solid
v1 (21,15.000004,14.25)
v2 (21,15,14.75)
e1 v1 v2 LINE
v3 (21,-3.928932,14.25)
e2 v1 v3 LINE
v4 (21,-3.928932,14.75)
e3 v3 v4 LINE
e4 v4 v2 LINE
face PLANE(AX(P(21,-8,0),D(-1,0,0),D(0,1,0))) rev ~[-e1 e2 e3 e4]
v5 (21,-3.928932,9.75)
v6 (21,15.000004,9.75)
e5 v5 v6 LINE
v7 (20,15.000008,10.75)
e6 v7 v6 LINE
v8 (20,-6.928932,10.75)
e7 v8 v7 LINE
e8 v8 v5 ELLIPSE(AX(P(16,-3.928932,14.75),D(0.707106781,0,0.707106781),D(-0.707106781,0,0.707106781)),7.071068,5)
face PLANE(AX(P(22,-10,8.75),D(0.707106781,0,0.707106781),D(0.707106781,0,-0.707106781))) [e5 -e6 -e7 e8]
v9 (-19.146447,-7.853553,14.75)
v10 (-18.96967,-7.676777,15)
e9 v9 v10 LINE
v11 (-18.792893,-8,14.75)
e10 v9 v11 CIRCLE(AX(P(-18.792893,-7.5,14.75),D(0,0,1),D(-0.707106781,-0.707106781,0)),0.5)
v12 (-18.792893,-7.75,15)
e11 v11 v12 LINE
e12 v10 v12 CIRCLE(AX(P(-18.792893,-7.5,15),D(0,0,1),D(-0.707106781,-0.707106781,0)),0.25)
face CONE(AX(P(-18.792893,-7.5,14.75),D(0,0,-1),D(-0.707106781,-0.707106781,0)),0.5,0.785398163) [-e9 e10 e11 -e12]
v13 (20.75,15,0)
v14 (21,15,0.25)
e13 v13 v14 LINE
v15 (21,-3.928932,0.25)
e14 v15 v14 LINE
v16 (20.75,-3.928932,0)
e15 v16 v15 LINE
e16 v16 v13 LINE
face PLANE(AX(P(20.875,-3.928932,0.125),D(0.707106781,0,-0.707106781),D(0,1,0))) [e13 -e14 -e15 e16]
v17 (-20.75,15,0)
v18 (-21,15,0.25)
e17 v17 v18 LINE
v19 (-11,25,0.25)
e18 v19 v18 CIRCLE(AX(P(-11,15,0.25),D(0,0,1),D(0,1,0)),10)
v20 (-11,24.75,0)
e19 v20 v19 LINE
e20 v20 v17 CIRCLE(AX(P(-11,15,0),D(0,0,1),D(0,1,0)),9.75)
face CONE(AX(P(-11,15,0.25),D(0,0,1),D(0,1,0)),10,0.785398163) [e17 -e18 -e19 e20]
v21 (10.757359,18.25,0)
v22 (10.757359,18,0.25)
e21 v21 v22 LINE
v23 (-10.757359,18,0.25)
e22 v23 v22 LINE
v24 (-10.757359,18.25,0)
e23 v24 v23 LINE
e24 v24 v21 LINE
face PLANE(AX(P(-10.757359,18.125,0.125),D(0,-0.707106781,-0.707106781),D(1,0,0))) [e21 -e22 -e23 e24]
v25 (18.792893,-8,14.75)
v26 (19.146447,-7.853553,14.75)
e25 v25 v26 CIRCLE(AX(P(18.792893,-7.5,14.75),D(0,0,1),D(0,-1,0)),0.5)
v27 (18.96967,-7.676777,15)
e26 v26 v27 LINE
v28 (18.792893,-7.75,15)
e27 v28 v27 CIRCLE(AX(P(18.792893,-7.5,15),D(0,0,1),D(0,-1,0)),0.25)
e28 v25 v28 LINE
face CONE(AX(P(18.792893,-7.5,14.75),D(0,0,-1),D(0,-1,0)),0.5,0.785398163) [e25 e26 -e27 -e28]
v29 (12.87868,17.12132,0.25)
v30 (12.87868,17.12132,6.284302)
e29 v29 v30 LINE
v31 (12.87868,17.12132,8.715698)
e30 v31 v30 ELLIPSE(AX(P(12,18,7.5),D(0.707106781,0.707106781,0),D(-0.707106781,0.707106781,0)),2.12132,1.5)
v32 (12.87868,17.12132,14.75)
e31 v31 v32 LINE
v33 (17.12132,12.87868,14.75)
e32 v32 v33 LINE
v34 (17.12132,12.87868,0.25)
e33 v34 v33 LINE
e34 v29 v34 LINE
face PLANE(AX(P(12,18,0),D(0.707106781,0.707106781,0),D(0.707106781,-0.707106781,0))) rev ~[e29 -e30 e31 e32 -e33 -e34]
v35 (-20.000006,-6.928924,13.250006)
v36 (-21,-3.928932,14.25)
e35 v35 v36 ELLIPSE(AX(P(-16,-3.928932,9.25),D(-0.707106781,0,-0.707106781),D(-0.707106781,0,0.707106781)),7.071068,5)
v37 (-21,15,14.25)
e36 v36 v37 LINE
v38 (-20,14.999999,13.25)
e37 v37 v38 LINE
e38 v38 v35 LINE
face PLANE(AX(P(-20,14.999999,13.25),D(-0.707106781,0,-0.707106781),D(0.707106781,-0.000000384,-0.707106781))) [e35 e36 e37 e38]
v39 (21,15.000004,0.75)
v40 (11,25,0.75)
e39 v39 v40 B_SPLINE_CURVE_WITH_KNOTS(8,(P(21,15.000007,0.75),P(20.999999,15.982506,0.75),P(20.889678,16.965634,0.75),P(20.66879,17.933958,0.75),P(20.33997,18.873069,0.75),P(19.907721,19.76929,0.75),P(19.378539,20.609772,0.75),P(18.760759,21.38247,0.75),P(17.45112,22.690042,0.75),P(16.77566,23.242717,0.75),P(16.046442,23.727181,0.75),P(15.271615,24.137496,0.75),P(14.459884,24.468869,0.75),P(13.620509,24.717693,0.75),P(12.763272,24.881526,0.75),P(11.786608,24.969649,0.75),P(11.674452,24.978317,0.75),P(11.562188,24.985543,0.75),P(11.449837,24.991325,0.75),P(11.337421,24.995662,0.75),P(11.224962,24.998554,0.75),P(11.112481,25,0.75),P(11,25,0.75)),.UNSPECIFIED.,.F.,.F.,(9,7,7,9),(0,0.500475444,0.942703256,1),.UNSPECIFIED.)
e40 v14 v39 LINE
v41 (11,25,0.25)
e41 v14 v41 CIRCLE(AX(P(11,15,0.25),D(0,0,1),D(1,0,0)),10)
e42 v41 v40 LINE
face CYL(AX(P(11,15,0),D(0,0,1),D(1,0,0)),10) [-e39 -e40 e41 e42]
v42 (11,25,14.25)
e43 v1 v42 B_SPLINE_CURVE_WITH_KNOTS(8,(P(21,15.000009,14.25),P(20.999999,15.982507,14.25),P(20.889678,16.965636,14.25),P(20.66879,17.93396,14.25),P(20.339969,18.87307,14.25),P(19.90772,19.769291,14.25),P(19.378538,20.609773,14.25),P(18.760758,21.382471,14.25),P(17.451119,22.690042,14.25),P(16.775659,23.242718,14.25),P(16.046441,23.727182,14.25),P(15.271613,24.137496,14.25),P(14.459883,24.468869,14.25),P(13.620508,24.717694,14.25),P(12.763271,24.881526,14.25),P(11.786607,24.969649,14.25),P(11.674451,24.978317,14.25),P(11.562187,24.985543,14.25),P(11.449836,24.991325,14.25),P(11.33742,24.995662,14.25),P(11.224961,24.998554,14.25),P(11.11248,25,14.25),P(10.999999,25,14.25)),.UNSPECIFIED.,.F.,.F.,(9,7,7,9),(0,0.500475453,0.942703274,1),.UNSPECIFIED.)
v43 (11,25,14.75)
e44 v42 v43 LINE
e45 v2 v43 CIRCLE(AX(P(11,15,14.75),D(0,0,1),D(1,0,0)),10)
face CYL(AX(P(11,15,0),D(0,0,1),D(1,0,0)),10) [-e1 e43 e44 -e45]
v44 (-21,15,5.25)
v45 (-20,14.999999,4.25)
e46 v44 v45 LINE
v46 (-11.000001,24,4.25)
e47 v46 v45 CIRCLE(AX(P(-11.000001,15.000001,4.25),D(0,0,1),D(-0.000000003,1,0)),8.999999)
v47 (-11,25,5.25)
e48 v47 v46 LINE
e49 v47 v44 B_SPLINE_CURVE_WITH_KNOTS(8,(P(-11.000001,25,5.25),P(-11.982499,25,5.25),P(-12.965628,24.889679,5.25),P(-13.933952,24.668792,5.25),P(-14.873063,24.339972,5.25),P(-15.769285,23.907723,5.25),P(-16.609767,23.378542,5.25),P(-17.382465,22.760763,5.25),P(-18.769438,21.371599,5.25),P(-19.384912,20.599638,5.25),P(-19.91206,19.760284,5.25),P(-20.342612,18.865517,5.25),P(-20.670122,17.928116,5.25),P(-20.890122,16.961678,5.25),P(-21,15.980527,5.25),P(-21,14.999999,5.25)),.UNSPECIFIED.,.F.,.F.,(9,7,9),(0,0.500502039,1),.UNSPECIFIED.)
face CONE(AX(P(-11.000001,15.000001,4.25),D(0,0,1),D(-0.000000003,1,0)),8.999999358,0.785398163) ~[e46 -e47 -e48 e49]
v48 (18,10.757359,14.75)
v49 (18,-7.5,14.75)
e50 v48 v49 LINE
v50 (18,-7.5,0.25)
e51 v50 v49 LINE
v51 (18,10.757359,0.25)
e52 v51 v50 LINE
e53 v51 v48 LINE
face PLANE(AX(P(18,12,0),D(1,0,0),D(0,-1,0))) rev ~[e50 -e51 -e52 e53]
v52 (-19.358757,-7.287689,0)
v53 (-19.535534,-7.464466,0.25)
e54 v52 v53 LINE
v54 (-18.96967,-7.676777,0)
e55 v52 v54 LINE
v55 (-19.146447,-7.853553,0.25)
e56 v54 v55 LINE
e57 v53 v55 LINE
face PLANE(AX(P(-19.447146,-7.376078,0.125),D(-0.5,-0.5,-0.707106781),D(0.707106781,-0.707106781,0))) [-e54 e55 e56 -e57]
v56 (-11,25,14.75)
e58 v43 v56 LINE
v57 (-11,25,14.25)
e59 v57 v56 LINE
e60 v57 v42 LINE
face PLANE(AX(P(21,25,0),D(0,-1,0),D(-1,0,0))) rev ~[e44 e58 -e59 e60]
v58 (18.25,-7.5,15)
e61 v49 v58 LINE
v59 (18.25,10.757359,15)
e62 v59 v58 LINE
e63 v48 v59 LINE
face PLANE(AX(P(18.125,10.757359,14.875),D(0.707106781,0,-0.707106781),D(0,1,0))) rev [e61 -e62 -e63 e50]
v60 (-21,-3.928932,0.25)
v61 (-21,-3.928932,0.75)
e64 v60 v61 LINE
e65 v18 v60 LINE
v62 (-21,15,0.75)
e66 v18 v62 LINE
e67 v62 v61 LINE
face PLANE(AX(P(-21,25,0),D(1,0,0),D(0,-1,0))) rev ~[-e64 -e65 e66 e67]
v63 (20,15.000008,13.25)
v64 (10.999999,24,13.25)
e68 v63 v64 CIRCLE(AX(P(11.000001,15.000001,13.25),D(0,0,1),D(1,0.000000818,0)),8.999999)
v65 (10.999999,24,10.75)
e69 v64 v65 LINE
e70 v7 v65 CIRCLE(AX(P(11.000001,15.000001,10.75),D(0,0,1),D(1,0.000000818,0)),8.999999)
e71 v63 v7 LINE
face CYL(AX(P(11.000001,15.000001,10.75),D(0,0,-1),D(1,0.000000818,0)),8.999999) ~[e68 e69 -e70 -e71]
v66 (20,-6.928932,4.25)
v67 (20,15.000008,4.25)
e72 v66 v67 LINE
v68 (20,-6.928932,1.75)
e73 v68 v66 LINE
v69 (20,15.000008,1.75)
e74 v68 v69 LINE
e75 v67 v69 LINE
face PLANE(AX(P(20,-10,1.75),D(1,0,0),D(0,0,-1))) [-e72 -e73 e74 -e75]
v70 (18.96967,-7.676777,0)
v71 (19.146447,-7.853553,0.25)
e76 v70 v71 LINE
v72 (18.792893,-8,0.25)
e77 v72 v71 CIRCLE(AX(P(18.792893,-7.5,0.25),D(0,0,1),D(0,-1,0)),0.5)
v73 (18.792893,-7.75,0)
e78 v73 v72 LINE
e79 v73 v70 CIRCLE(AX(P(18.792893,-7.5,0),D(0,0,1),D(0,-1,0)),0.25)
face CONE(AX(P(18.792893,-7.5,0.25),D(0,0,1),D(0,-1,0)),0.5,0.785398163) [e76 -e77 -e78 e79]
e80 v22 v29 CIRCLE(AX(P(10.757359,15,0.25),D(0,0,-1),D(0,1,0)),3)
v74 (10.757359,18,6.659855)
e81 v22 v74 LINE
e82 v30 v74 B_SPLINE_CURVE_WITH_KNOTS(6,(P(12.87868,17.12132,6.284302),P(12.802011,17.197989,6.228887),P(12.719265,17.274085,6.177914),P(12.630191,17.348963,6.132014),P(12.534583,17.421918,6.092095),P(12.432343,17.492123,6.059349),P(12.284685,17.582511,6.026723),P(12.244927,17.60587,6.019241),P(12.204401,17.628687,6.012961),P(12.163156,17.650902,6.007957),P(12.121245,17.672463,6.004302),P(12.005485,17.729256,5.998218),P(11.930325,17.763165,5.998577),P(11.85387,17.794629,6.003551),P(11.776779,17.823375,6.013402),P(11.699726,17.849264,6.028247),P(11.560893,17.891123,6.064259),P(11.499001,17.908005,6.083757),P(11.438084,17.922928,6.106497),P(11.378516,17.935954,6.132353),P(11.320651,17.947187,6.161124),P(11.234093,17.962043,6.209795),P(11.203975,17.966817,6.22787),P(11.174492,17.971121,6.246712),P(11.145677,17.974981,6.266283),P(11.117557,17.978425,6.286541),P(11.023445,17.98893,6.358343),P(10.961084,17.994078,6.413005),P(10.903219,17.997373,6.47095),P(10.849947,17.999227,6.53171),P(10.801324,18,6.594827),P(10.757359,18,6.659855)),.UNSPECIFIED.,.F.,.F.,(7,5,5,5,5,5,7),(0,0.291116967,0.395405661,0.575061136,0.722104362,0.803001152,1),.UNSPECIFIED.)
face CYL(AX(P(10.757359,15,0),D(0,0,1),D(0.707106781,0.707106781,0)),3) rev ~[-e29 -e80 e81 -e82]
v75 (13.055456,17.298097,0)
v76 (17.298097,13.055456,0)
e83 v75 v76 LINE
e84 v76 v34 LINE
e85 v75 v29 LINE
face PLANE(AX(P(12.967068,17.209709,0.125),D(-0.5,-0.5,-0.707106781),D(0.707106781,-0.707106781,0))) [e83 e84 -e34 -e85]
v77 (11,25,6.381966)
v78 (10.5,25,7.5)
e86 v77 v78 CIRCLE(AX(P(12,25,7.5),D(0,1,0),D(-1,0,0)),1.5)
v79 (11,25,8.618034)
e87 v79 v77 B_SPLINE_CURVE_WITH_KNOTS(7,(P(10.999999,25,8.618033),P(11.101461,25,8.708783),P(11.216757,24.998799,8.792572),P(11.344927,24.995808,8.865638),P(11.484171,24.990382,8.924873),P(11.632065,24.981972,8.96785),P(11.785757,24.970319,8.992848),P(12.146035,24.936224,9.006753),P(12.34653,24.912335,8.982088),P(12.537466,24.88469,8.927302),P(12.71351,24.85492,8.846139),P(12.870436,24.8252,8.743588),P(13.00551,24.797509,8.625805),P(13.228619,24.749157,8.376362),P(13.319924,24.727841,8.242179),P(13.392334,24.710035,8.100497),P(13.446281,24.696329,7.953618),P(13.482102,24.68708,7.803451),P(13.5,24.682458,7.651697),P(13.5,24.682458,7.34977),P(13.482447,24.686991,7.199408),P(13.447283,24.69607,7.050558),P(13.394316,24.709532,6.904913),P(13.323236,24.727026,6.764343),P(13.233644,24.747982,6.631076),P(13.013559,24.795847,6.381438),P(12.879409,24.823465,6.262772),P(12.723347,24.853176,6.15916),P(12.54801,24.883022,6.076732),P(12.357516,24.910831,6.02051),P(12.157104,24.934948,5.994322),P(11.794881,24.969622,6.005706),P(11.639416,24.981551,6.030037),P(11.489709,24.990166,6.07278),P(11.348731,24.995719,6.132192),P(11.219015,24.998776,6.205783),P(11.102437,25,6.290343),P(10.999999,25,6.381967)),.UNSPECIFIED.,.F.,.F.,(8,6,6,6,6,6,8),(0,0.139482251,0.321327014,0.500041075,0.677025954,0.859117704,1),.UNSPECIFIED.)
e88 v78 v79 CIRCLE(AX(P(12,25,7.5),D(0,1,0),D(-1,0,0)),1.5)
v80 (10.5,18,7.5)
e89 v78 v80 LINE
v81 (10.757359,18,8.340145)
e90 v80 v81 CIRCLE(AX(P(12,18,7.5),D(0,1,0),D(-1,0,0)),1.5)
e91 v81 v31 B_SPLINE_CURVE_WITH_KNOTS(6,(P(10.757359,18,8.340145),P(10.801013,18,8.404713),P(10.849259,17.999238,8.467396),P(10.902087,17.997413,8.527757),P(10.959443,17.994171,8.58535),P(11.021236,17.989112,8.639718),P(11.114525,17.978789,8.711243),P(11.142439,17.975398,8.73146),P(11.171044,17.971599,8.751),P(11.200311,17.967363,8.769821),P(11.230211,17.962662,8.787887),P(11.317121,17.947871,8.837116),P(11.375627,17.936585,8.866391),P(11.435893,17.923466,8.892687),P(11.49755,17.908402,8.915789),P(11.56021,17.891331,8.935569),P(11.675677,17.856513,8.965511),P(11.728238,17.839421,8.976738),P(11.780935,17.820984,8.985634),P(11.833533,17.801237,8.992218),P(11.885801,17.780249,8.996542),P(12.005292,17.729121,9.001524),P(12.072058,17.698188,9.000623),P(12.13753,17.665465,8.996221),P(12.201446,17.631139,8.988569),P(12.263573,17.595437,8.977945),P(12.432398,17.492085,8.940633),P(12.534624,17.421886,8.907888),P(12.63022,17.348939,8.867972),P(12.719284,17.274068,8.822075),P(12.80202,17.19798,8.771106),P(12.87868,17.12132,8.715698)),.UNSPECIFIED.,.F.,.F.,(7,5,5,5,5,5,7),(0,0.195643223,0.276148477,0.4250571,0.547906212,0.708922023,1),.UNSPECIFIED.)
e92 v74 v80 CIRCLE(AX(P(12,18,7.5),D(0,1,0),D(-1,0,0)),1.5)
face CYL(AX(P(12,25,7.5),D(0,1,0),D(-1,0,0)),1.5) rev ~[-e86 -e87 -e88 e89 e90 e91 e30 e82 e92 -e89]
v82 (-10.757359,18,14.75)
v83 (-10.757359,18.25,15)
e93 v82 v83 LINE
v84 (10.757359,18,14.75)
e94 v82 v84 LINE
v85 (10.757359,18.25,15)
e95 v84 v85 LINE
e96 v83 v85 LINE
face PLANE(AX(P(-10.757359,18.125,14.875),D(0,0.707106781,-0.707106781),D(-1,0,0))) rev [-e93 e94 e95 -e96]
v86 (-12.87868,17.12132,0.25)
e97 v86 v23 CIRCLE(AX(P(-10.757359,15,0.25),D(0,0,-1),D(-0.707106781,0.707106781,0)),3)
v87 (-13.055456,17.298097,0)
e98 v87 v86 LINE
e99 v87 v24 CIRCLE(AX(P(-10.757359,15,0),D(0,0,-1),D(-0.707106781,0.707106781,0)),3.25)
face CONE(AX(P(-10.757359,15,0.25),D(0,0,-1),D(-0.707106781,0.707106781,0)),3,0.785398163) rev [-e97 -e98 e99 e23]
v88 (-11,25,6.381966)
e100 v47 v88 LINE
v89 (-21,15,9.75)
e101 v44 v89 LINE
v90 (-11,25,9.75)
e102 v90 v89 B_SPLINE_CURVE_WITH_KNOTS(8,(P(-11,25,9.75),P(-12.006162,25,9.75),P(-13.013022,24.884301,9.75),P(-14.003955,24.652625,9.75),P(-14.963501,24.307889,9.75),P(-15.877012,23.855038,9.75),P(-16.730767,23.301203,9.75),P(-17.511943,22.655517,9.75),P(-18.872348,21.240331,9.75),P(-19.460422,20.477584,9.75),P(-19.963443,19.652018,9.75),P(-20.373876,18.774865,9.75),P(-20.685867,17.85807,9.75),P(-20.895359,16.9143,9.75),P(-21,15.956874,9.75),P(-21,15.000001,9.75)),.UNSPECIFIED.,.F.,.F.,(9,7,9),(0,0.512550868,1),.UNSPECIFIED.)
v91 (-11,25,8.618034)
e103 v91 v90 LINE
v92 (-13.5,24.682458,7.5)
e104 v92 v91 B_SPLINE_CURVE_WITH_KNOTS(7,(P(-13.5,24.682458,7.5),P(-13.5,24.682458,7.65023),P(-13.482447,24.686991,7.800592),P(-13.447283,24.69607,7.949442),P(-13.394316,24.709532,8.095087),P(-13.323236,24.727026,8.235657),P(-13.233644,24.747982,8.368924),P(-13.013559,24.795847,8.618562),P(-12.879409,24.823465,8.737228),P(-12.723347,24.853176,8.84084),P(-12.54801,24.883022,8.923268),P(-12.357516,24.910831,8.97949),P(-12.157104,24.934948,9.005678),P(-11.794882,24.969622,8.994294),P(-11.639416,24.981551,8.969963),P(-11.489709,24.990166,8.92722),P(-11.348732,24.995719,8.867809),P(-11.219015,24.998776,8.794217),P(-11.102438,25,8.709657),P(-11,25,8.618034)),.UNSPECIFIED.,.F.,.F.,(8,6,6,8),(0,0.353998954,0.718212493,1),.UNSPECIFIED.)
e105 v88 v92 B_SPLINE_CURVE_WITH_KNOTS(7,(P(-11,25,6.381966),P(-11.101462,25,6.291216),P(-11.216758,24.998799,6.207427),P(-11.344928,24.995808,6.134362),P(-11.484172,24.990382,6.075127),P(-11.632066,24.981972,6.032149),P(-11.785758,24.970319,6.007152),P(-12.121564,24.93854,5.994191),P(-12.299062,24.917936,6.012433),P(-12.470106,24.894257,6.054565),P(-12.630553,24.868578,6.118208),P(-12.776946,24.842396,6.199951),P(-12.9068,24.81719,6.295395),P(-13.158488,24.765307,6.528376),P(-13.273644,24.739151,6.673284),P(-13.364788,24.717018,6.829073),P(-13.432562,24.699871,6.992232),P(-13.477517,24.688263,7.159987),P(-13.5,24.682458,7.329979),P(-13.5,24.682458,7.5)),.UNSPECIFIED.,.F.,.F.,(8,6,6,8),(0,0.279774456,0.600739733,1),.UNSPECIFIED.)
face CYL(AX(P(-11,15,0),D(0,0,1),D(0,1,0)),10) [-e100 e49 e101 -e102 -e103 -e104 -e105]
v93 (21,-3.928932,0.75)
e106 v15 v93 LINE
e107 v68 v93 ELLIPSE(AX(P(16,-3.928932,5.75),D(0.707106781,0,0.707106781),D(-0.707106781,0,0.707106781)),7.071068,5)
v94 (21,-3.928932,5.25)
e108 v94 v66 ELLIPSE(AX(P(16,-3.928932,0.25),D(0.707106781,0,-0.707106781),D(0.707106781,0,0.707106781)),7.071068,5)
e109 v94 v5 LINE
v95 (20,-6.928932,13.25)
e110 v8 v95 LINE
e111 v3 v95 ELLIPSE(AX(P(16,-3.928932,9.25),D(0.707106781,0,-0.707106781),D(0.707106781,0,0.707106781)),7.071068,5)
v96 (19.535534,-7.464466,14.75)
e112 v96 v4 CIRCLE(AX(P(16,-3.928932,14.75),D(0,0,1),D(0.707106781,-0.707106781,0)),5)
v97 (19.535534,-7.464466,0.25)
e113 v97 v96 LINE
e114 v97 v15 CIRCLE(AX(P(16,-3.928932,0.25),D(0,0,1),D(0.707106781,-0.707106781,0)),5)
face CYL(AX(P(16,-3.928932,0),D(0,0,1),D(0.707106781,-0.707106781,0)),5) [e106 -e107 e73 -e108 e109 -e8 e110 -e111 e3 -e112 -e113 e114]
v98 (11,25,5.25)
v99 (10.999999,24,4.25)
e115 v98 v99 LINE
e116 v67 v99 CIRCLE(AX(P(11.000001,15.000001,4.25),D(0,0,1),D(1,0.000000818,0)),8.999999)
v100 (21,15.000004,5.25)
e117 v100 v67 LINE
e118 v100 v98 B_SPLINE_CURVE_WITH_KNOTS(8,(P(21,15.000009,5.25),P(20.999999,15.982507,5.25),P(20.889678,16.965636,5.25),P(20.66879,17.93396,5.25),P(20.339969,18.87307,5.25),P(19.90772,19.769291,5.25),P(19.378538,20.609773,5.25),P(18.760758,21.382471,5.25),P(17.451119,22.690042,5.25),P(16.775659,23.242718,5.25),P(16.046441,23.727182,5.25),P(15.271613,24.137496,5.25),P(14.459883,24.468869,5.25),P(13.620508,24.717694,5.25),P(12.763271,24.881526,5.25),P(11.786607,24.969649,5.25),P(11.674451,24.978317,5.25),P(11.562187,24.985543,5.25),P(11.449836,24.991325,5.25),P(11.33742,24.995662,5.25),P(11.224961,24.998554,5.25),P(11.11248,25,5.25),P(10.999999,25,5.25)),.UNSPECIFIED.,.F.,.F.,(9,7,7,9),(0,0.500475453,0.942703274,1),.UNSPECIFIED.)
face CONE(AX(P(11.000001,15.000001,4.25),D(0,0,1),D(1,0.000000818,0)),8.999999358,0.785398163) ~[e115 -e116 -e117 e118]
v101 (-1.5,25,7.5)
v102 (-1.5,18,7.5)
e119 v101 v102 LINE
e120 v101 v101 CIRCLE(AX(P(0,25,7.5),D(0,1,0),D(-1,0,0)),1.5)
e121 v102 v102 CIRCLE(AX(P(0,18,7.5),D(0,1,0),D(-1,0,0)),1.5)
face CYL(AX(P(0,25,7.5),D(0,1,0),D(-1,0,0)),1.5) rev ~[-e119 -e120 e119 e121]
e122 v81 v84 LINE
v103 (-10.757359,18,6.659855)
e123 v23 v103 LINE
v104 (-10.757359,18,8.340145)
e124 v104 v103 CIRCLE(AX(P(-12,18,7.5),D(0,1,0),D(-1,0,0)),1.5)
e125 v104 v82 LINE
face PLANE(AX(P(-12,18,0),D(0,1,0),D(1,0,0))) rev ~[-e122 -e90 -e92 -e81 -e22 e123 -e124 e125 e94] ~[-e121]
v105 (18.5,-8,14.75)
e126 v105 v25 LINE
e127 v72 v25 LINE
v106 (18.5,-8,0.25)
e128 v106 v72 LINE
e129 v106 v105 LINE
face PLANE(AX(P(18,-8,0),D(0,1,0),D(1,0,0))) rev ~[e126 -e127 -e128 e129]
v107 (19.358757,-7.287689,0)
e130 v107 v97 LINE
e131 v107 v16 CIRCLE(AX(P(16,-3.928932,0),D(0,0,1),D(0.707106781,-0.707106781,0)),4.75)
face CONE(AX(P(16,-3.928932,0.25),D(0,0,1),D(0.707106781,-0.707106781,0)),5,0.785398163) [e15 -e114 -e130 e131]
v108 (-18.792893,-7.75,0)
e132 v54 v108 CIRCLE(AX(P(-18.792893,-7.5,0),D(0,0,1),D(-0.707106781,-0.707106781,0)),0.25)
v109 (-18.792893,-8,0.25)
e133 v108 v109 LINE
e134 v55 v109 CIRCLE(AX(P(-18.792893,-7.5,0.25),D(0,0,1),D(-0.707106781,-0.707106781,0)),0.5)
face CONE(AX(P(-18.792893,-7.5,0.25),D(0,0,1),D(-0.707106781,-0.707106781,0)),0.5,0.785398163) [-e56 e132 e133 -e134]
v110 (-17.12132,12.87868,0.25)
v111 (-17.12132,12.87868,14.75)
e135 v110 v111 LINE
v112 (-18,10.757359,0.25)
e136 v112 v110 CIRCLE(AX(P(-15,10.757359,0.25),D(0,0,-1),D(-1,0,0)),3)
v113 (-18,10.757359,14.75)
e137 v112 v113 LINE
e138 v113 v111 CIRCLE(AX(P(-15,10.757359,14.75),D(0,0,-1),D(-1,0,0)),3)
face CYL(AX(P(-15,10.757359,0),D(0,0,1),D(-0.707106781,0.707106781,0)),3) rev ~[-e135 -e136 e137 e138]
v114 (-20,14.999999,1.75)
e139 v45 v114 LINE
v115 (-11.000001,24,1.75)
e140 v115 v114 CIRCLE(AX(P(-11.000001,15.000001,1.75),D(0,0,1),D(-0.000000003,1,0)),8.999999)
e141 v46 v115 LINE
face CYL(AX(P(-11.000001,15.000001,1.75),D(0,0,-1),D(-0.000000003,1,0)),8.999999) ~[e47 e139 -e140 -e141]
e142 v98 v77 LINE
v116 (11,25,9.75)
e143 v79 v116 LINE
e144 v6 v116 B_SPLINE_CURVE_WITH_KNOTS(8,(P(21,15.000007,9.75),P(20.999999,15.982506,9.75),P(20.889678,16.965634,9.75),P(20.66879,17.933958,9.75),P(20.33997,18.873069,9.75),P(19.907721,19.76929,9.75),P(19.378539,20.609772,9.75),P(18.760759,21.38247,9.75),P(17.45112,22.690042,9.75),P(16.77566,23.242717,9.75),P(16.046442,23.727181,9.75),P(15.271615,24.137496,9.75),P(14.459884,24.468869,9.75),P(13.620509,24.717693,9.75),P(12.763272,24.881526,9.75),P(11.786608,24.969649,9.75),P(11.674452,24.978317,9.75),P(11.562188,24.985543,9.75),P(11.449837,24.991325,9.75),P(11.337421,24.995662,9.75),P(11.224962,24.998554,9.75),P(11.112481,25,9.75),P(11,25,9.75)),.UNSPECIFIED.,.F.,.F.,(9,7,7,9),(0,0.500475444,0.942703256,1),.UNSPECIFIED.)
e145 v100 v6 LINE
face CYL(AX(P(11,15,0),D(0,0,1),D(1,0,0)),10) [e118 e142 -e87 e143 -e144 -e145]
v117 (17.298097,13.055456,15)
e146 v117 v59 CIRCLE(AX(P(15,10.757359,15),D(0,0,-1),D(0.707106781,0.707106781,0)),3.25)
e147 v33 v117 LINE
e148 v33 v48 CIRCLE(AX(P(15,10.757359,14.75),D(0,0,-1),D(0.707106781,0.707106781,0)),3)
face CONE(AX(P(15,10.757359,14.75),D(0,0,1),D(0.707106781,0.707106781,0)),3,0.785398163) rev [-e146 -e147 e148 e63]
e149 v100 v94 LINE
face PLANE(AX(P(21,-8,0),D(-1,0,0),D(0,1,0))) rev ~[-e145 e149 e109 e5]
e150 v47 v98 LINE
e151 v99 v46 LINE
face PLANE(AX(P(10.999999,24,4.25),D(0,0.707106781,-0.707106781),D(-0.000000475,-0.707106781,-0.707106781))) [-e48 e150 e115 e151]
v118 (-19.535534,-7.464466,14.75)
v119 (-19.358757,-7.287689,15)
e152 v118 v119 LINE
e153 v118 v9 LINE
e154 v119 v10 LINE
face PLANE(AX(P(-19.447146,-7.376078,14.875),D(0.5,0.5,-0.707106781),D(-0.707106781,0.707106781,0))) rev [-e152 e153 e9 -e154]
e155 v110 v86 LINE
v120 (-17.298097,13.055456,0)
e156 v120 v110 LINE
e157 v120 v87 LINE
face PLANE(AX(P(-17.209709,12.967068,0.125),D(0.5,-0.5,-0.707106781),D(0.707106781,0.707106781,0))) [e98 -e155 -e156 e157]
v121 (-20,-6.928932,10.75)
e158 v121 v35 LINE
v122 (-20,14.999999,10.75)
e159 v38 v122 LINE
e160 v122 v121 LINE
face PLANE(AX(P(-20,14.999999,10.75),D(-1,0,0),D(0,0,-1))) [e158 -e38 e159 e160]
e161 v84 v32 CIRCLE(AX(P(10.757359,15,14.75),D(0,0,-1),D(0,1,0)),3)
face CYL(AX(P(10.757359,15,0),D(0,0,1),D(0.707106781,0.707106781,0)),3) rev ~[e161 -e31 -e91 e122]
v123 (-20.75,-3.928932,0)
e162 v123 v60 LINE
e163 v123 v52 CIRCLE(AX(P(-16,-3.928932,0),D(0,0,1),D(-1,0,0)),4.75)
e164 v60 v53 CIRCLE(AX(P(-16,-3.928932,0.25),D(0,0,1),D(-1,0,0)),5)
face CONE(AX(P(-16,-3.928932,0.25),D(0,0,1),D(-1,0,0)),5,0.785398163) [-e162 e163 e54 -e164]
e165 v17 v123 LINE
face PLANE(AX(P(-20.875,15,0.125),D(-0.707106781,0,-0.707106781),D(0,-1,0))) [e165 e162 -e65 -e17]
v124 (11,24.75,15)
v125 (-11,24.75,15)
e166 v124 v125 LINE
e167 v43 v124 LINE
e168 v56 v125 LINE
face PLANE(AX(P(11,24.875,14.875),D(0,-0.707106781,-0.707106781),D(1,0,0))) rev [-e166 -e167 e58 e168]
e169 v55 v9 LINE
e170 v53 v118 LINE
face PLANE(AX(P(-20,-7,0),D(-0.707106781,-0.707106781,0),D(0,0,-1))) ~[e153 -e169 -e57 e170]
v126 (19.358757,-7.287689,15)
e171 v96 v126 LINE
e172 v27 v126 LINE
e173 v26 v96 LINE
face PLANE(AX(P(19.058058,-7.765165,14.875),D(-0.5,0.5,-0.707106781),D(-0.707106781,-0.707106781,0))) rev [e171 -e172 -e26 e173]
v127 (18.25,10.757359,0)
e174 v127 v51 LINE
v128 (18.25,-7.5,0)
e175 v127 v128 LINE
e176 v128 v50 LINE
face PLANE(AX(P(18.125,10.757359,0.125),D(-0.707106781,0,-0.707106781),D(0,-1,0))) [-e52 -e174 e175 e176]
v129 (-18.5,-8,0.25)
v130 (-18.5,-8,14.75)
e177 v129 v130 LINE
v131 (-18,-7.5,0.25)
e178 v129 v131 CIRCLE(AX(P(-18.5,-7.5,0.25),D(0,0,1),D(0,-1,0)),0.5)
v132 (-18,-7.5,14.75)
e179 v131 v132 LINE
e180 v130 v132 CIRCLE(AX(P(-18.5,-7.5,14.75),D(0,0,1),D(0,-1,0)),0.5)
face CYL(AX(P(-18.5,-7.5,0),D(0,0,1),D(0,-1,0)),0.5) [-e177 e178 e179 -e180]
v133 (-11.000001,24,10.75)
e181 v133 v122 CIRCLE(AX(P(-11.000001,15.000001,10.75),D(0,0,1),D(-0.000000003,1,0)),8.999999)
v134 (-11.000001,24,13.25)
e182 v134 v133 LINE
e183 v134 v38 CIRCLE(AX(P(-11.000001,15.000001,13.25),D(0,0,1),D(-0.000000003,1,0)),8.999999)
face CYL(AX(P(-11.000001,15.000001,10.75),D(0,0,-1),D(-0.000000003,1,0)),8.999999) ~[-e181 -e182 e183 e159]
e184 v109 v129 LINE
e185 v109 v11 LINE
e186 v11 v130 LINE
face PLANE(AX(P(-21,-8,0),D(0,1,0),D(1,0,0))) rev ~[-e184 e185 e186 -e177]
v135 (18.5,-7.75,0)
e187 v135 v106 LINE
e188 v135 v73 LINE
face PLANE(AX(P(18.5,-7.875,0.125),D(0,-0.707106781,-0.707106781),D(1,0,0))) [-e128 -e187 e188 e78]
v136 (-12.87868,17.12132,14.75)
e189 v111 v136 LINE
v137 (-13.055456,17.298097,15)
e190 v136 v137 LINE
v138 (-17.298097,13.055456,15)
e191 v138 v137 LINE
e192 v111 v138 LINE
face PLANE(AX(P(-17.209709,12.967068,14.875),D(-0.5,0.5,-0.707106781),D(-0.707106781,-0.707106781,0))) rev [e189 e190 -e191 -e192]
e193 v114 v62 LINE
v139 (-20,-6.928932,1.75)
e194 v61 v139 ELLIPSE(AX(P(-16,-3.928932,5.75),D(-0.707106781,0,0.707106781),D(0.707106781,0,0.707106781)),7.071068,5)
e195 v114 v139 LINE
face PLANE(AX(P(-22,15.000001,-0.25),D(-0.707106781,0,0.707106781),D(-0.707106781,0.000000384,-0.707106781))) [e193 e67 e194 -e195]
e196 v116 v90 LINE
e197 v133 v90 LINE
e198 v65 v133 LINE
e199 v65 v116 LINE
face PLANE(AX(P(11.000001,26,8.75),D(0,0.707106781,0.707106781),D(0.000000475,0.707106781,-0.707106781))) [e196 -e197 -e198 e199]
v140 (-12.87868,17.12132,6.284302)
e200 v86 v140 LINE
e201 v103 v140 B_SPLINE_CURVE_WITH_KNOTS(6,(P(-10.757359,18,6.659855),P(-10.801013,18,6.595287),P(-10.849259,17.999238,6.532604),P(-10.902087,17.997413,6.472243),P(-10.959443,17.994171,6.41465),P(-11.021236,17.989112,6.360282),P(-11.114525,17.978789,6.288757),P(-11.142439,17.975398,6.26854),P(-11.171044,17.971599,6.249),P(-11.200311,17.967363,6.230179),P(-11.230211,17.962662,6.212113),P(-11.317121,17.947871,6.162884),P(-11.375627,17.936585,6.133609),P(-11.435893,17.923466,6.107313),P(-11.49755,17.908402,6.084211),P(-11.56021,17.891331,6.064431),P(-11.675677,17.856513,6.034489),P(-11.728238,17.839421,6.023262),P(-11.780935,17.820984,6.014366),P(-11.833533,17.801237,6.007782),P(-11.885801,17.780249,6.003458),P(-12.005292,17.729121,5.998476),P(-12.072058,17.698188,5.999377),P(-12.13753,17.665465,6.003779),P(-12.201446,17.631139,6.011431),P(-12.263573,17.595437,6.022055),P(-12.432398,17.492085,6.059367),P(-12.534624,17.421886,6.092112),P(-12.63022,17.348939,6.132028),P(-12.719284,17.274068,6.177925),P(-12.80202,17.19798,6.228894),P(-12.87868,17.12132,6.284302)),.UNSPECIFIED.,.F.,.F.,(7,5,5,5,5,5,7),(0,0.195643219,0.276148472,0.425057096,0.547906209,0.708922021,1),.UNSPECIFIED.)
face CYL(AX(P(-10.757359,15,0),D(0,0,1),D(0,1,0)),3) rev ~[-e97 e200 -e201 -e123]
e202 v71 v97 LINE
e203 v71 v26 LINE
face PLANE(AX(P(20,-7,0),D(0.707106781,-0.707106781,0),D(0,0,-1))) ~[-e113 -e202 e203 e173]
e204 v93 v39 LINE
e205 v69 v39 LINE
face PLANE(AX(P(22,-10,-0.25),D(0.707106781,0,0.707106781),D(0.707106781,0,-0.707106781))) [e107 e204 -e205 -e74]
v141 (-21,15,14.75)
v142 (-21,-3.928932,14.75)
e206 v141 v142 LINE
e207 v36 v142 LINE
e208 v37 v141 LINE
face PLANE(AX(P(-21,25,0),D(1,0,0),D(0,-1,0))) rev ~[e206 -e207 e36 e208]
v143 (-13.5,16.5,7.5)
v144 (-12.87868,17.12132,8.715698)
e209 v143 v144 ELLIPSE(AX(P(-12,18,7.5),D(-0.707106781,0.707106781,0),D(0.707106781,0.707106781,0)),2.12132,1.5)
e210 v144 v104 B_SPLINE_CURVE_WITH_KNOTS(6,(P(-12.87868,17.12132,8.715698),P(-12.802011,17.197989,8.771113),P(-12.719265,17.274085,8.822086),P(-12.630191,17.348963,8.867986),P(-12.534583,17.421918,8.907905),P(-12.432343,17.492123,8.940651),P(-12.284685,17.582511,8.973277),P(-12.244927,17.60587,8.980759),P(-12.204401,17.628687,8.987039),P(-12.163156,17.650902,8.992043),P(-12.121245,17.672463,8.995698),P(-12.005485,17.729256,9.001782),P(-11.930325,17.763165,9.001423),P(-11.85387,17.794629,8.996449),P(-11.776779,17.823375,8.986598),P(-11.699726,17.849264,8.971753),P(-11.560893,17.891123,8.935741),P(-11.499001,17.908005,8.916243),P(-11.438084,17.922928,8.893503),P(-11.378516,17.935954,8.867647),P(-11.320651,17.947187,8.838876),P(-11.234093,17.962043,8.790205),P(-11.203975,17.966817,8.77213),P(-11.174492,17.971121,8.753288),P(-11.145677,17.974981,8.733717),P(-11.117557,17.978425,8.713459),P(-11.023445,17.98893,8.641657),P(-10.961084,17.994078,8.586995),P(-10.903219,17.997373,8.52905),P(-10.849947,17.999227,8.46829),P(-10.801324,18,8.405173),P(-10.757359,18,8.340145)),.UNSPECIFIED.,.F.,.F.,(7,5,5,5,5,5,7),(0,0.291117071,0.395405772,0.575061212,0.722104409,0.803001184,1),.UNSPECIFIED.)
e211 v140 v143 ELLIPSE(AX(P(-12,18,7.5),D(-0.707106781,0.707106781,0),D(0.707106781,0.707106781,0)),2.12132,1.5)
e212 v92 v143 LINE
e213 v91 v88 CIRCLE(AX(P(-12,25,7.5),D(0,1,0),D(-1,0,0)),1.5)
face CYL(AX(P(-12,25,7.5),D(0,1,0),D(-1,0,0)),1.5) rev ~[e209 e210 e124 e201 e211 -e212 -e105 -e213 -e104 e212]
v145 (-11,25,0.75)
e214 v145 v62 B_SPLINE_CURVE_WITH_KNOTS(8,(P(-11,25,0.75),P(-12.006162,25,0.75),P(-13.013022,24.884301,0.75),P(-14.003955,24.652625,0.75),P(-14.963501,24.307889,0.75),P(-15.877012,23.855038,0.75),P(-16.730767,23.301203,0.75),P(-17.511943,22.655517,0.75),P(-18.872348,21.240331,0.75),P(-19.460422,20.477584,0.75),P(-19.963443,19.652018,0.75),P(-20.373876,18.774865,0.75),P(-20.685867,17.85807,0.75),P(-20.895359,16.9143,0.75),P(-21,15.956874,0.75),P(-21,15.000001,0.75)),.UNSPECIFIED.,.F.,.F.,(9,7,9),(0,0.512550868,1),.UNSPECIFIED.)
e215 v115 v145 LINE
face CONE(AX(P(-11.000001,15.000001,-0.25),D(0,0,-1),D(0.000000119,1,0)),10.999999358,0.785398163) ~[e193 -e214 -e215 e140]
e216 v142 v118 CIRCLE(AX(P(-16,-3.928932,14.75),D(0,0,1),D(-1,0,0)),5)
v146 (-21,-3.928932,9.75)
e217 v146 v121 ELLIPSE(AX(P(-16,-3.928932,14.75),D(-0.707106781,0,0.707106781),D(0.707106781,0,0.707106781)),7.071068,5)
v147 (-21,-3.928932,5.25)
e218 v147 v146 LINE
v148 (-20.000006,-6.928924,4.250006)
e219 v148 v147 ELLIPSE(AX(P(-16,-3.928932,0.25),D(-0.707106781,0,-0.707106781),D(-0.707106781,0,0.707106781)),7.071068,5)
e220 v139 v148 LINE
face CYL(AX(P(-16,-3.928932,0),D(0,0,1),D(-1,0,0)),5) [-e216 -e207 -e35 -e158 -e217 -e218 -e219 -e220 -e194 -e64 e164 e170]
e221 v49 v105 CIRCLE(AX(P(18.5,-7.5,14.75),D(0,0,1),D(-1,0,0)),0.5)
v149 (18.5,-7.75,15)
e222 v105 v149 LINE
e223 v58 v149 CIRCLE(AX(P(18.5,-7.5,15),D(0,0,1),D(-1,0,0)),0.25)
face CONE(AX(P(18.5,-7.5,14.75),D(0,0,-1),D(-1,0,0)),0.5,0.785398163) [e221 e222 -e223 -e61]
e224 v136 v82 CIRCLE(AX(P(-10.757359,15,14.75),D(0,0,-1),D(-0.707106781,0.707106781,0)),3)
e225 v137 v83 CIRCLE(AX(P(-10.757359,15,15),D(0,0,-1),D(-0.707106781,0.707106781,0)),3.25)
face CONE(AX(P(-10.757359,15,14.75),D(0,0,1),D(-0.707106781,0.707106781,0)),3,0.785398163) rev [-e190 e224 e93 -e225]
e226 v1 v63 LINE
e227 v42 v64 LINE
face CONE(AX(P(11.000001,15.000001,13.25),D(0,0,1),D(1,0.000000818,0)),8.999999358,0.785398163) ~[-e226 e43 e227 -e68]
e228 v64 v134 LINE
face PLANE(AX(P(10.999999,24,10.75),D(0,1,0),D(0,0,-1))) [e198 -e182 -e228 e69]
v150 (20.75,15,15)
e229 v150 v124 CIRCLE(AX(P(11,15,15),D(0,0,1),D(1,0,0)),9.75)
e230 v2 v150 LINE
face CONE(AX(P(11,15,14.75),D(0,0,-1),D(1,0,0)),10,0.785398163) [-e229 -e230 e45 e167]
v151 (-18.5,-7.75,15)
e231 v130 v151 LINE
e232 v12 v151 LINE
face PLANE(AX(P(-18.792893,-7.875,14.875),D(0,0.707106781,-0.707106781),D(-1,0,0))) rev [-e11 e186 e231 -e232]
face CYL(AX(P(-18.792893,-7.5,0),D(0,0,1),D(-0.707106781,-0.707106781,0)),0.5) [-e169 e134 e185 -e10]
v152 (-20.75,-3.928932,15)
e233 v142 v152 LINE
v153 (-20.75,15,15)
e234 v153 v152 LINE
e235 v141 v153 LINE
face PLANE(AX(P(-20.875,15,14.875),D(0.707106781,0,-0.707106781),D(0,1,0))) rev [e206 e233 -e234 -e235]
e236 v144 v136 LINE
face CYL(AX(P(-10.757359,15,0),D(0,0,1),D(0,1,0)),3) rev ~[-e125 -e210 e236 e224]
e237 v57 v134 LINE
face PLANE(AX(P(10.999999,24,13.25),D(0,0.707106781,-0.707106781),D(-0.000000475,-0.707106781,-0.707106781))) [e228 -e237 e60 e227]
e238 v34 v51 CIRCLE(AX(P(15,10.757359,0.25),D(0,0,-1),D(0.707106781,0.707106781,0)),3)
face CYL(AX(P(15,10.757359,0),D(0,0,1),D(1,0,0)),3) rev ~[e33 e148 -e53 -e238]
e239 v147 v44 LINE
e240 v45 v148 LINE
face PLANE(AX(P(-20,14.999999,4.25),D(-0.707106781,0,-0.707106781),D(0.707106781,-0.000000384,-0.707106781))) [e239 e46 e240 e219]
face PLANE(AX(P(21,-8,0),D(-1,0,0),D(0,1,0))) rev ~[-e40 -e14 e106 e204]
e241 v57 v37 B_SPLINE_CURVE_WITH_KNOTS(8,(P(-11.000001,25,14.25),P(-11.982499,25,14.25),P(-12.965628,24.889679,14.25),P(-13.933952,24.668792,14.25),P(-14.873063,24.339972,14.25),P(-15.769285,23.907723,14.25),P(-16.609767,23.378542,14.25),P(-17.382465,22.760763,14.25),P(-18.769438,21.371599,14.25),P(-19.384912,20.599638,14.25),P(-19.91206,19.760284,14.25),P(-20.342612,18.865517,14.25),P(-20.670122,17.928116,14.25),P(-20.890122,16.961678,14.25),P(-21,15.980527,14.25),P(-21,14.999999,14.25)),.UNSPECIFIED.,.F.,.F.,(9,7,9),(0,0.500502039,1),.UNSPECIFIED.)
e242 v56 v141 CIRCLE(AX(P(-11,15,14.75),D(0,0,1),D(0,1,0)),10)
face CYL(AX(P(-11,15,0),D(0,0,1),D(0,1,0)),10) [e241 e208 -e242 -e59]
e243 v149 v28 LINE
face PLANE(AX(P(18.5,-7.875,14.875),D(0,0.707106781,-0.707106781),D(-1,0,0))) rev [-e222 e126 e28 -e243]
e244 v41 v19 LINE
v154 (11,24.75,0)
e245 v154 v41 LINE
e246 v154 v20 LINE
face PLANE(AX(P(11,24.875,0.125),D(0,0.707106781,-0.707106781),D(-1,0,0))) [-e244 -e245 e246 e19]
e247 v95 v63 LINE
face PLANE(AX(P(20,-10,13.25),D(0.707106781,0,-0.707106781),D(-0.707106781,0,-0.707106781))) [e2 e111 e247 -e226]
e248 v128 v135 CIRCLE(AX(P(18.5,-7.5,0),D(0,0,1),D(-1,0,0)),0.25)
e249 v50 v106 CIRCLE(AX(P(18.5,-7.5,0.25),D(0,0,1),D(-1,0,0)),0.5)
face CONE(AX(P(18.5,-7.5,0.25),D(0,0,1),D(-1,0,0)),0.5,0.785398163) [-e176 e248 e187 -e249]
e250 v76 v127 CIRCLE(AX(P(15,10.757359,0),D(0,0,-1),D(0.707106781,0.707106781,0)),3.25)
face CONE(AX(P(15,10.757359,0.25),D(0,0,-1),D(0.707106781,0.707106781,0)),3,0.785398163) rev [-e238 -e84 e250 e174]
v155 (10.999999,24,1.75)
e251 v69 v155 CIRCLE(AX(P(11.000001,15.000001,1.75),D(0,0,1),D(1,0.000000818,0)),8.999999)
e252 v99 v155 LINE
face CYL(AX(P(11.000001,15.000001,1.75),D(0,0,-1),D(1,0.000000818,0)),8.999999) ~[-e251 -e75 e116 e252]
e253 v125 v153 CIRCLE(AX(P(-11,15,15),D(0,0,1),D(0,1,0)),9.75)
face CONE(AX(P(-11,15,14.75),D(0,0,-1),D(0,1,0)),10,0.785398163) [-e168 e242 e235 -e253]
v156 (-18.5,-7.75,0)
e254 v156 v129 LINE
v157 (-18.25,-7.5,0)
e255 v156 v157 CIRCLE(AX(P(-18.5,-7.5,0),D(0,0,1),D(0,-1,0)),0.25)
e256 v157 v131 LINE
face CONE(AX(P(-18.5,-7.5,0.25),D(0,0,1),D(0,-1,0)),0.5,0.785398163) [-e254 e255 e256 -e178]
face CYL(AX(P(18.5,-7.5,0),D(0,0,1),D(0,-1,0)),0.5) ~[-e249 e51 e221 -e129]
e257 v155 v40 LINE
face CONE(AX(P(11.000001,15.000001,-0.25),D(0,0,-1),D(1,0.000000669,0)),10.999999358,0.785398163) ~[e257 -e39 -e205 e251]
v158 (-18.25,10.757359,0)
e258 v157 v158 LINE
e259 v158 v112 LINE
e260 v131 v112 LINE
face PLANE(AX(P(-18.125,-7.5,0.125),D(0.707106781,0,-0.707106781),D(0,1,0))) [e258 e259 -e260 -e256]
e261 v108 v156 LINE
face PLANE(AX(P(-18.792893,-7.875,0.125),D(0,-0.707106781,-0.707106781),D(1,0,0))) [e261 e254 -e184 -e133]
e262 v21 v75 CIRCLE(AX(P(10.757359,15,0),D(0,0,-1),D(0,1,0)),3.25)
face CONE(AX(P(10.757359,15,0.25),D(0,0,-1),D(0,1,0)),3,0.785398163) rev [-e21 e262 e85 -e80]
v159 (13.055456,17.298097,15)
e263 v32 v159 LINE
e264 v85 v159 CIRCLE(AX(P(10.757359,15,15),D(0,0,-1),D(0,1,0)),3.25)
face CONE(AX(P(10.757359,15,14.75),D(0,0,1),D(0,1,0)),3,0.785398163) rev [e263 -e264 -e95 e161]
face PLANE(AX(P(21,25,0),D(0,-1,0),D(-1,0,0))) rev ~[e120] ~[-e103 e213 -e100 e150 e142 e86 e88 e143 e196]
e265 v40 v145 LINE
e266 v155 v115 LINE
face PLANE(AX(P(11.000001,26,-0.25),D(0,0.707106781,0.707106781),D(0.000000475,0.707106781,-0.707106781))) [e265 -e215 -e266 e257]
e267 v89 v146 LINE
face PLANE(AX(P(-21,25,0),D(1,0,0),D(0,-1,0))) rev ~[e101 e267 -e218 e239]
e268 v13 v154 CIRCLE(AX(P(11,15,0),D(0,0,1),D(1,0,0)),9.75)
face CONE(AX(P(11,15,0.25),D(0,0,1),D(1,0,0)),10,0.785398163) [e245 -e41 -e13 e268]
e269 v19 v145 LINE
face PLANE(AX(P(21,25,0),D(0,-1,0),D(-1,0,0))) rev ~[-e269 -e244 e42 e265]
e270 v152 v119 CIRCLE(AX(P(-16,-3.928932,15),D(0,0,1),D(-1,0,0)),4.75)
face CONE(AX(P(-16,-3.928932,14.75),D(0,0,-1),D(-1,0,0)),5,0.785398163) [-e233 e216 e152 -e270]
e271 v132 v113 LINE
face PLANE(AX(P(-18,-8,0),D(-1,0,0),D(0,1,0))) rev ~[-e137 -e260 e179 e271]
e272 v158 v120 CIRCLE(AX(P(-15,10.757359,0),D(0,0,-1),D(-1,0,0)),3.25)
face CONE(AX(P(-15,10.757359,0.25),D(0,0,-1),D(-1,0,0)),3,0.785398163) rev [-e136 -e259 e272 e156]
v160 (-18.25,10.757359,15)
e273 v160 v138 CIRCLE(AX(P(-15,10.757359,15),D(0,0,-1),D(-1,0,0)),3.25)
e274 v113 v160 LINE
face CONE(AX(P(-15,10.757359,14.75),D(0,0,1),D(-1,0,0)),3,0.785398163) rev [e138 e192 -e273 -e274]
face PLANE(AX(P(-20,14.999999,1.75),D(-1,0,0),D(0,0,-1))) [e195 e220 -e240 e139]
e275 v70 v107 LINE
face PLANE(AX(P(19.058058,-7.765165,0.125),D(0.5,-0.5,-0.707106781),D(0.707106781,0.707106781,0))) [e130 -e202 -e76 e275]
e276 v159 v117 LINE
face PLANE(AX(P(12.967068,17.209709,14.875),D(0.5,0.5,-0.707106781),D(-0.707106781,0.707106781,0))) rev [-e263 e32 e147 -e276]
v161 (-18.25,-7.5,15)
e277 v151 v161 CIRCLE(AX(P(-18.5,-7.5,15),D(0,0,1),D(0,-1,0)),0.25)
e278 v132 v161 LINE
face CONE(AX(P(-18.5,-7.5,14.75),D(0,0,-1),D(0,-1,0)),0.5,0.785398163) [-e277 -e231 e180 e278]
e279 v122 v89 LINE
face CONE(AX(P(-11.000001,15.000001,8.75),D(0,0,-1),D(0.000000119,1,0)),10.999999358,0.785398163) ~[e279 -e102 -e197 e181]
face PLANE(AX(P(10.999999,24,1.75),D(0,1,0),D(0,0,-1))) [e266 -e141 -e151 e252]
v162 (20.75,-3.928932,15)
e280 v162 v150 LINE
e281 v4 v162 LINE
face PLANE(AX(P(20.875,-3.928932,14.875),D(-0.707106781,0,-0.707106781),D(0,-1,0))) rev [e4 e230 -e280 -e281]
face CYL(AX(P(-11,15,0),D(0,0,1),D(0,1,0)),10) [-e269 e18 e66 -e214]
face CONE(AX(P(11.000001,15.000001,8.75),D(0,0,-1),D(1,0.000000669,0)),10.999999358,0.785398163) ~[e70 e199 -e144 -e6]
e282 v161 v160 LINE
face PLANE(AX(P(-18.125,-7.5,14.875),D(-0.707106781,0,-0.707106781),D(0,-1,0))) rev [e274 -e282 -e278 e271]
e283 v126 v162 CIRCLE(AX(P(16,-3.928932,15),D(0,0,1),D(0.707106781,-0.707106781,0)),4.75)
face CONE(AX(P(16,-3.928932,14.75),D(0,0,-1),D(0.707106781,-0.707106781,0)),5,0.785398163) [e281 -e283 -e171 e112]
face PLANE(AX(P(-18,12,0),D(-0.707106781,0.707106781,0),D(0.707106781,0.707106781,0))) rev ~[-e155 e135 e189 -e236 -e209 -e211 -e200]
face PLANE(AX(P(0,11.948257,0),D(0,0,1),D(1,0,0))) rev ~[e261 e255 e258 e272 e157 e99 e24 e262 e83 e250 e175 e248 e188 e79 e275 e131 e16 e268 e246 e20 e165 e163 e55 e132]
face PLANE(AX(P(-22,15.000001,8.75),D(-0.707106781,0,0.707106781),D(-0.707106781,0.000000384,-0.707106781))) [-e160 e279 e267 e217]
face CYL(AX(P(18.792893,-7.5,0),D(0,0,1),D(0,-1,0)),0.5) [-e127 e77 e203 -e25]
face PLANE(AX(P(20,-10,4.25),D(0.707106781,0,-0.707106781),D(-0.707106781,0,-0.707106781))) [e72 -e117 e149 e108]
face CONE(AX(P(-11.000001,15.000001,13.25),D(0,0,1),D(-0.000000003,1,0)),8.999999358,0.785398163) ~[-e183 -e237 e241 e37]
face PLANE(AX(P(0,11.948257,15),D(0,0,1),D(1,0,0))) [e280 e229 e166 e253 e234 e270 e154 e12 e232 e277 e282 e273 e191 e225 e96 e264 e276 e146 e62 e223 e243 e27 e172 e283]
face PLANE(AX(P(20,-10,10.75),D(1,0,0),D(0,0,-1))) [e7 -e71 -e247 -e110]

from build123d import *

# Parameters (mm, degrees)
PAD_DEPTH       = 15
FILLET_R        = 10
FILLET001_R     = 3
CHAMFER_SIZE    = 2
FILLET002_R     = 0.5
FILLET003_R     = 5
CHAMFER001_SIZE = 0.25
SKETCH003_R     = 1.5
POCKET_DEPTH    = 33.001


with BuildPart() as sweep_body:
    # Sweep: sweep along a path in Sketch001
    with BuildLine(Plane.XY) as sweep_path:
        Line((21, -10), (21, 15.000008))
        ThreePointArc((21, 15.000008), (18.071065, 22.071071), (11, 25))
        Line((11, 25), (-11, 25))
        ThreePointArc((-11, 25), (-18.071068, 22.071068), (-21, 15))
        Line((-21, 15), (-21, -10))
    # Sketch002 → Sweep (sweep)
    with BuildSketch(Plane.XZ.offset(10)):
        Polygon((22, 3.25), (22, -3.25), (20, -1.25), (20, 1.25), align=None)
    sweep(path=sweep_path.line)


with BuildPart() as sweep_body_1:
    # Sweep placement: moved
    add(sweep_body.part.moved(Location((0, 0, 3))))


with BuildPart() as fusion:
    # Clone base: copy of Sweep body
    add(sweep_body_1.part)


with BuildPart() as fusion_1:
    # Clone placement: moved
    add(fusion.part.moved(Location((0, 0, 9))))

    # Fusion: union Sweep body
    add(sweep_body_1.part)


with BuildPart() as pocket:
    # Sketch → Pad (new body)
    with BuildSketch(Plane.XY):
        Polygon((-18, -8), (-18, 12), (-12, 18), (12, 18), (18, 12), (18, -8), (21, -8), (21, 25), (-21, 25), (-21, -8), align=None)
    extrude(amount=PAD_DEPTH)

    # Fillet
    fillet_edges = [pocket.edges().sort_by_distance(p)[0] for p in [
        (-21, 25, 7.5),
        (21, 25, 7.5),
    ]]
    fillet(fillet_edges, radius=FILLET_R)

    # Fillet001
    fillet001_edges = [pocket.edges().sort_by_distance(p)[0] for p in [
        (-12, 18, 7.5),
        (-18, 12, 7.5),
        (12, 18, 7.5),
        (18, 12, 7.5),
    ]]
    fillet(fillet001_edges, radius=FILLET001_R)

    # Chamfer
    chamfer_edges = [pocket.edges().sort_by_distance(p)[0] for p in [
        (-21, -8, 7.5),
        (21, -8, 7.5),
    ]]
    chamfer(chamfer_edges, length=CHAMFER_SIZE)

    # Fillet002
    fillet002_edges = [pocket.edges().sort_by_distance(p)[0] for p in [
        (-19, -8, 7.5),
        (-18, -8, 7.5),
        (19, -8, 7.5),
        (18, -8, 7.5),
    ]]
    fillet(fillet002_edges, radius=FILLET002_R)

    # Fillet003
    fillet003_edges = [pocket.edges().sort_by_distance(p)[0] for p in [
        (-21, -6, 7.5),
        (21, -6, 7.5),
    ]]
    fillet(fillet003_edges, radius=FILLET003_R)

    # Chamfer001
    chamfer001_edges = [pocket.edges().sort_by_distance(p)[0] for p in [
        (19.34099, -7.65901, 15),
        (20.619398, -5.842349, 15),
        (18.984235, -7.96194, 15),
        (21, 5.535534, 15),
        (18.646447, -8, 15),
        (18.071068, 22.071068, 15),
        (18.146447, -7.853553, 15),
        (0, 25, 15),
        (18, 1.62868, 15),
        (-18.071068, 22.071068, 15),
        (17.771639, 11.90541, 15),
        (-21, 5.535534, 15),
        (15, 15, 15),
        (-20.619398, -5.842349, 15),
        (11.90541, 17.771639, 15),
        (-19.34099, -7.65901, 15),
        (0, 18, 15),
        (-18.984235, -7.96194, 15),
        (-11.90541, 17.771639, 15),
        (-18.646447, -8, 15),
        (-15, 15, 15),
        (-18.146447, -7.853553, 15),
        (-17.771639, 11.90541, 15),
        (-18, 1.62868, 15),
        (19.34099, -7.65901, 0),
        (20.619398, -5.842349, 0),
        (18.984235, -7.96194, 0),
        (21, 5.535534, 0),
        (18.646447, -8, 0),
        (18.071068, 22.071068, 0),
        (18.146447, -7.853553, 0),
        (0, 25, 0),
        (18, 1.62868, 0),
        (-18.071068, 22.071068, 0),
        (17.771639, 11.90541, 0),
        (-21, 5.535534, 0),
        (15, 15, 0),
        (-20.619398, -5.842349, 0),
        (11.90541, 17.771639, 0),
        (-19.34099, -7.65901, 0),
        (0, 18, 0),
        (-18.984235, -7.96194, 0),
        (-11.90541, 17.771639, 0),
        (-18.646447, -8, 0),
        (-15, 15, 0),
        (-18.146447, -7.853553, 0),
        (-17.771639, 11.90541, 0),
        (-18, 1.62868, 0),
    ]]
    chamfer(chamfer001_edges, length=CHAMFER001_SIZE)

    # Cut: cut Fusion
    add(fusion_1.part, mode=Mode.SUBTRACT)

    # Sketch003 → Pocket (cut, through all)
    with BuildSketch(Plane(origin=(0, 25, 0), x_dir=(-1, 0, 0), z_dir=(0, 1, 0))):
        with Locations((-12, 7.5)):
            Circle(SKETCH003_R)
        with Locations((0, 7.5)):
            Circle(SKETCH003_R)
        with Locations((12, 7.5)):
            Circle(SKETCH003_R)
    extrude(amount=-POCKET_DEPTH, mode=Mode.SUBTRACT)


solid = pocket.part
